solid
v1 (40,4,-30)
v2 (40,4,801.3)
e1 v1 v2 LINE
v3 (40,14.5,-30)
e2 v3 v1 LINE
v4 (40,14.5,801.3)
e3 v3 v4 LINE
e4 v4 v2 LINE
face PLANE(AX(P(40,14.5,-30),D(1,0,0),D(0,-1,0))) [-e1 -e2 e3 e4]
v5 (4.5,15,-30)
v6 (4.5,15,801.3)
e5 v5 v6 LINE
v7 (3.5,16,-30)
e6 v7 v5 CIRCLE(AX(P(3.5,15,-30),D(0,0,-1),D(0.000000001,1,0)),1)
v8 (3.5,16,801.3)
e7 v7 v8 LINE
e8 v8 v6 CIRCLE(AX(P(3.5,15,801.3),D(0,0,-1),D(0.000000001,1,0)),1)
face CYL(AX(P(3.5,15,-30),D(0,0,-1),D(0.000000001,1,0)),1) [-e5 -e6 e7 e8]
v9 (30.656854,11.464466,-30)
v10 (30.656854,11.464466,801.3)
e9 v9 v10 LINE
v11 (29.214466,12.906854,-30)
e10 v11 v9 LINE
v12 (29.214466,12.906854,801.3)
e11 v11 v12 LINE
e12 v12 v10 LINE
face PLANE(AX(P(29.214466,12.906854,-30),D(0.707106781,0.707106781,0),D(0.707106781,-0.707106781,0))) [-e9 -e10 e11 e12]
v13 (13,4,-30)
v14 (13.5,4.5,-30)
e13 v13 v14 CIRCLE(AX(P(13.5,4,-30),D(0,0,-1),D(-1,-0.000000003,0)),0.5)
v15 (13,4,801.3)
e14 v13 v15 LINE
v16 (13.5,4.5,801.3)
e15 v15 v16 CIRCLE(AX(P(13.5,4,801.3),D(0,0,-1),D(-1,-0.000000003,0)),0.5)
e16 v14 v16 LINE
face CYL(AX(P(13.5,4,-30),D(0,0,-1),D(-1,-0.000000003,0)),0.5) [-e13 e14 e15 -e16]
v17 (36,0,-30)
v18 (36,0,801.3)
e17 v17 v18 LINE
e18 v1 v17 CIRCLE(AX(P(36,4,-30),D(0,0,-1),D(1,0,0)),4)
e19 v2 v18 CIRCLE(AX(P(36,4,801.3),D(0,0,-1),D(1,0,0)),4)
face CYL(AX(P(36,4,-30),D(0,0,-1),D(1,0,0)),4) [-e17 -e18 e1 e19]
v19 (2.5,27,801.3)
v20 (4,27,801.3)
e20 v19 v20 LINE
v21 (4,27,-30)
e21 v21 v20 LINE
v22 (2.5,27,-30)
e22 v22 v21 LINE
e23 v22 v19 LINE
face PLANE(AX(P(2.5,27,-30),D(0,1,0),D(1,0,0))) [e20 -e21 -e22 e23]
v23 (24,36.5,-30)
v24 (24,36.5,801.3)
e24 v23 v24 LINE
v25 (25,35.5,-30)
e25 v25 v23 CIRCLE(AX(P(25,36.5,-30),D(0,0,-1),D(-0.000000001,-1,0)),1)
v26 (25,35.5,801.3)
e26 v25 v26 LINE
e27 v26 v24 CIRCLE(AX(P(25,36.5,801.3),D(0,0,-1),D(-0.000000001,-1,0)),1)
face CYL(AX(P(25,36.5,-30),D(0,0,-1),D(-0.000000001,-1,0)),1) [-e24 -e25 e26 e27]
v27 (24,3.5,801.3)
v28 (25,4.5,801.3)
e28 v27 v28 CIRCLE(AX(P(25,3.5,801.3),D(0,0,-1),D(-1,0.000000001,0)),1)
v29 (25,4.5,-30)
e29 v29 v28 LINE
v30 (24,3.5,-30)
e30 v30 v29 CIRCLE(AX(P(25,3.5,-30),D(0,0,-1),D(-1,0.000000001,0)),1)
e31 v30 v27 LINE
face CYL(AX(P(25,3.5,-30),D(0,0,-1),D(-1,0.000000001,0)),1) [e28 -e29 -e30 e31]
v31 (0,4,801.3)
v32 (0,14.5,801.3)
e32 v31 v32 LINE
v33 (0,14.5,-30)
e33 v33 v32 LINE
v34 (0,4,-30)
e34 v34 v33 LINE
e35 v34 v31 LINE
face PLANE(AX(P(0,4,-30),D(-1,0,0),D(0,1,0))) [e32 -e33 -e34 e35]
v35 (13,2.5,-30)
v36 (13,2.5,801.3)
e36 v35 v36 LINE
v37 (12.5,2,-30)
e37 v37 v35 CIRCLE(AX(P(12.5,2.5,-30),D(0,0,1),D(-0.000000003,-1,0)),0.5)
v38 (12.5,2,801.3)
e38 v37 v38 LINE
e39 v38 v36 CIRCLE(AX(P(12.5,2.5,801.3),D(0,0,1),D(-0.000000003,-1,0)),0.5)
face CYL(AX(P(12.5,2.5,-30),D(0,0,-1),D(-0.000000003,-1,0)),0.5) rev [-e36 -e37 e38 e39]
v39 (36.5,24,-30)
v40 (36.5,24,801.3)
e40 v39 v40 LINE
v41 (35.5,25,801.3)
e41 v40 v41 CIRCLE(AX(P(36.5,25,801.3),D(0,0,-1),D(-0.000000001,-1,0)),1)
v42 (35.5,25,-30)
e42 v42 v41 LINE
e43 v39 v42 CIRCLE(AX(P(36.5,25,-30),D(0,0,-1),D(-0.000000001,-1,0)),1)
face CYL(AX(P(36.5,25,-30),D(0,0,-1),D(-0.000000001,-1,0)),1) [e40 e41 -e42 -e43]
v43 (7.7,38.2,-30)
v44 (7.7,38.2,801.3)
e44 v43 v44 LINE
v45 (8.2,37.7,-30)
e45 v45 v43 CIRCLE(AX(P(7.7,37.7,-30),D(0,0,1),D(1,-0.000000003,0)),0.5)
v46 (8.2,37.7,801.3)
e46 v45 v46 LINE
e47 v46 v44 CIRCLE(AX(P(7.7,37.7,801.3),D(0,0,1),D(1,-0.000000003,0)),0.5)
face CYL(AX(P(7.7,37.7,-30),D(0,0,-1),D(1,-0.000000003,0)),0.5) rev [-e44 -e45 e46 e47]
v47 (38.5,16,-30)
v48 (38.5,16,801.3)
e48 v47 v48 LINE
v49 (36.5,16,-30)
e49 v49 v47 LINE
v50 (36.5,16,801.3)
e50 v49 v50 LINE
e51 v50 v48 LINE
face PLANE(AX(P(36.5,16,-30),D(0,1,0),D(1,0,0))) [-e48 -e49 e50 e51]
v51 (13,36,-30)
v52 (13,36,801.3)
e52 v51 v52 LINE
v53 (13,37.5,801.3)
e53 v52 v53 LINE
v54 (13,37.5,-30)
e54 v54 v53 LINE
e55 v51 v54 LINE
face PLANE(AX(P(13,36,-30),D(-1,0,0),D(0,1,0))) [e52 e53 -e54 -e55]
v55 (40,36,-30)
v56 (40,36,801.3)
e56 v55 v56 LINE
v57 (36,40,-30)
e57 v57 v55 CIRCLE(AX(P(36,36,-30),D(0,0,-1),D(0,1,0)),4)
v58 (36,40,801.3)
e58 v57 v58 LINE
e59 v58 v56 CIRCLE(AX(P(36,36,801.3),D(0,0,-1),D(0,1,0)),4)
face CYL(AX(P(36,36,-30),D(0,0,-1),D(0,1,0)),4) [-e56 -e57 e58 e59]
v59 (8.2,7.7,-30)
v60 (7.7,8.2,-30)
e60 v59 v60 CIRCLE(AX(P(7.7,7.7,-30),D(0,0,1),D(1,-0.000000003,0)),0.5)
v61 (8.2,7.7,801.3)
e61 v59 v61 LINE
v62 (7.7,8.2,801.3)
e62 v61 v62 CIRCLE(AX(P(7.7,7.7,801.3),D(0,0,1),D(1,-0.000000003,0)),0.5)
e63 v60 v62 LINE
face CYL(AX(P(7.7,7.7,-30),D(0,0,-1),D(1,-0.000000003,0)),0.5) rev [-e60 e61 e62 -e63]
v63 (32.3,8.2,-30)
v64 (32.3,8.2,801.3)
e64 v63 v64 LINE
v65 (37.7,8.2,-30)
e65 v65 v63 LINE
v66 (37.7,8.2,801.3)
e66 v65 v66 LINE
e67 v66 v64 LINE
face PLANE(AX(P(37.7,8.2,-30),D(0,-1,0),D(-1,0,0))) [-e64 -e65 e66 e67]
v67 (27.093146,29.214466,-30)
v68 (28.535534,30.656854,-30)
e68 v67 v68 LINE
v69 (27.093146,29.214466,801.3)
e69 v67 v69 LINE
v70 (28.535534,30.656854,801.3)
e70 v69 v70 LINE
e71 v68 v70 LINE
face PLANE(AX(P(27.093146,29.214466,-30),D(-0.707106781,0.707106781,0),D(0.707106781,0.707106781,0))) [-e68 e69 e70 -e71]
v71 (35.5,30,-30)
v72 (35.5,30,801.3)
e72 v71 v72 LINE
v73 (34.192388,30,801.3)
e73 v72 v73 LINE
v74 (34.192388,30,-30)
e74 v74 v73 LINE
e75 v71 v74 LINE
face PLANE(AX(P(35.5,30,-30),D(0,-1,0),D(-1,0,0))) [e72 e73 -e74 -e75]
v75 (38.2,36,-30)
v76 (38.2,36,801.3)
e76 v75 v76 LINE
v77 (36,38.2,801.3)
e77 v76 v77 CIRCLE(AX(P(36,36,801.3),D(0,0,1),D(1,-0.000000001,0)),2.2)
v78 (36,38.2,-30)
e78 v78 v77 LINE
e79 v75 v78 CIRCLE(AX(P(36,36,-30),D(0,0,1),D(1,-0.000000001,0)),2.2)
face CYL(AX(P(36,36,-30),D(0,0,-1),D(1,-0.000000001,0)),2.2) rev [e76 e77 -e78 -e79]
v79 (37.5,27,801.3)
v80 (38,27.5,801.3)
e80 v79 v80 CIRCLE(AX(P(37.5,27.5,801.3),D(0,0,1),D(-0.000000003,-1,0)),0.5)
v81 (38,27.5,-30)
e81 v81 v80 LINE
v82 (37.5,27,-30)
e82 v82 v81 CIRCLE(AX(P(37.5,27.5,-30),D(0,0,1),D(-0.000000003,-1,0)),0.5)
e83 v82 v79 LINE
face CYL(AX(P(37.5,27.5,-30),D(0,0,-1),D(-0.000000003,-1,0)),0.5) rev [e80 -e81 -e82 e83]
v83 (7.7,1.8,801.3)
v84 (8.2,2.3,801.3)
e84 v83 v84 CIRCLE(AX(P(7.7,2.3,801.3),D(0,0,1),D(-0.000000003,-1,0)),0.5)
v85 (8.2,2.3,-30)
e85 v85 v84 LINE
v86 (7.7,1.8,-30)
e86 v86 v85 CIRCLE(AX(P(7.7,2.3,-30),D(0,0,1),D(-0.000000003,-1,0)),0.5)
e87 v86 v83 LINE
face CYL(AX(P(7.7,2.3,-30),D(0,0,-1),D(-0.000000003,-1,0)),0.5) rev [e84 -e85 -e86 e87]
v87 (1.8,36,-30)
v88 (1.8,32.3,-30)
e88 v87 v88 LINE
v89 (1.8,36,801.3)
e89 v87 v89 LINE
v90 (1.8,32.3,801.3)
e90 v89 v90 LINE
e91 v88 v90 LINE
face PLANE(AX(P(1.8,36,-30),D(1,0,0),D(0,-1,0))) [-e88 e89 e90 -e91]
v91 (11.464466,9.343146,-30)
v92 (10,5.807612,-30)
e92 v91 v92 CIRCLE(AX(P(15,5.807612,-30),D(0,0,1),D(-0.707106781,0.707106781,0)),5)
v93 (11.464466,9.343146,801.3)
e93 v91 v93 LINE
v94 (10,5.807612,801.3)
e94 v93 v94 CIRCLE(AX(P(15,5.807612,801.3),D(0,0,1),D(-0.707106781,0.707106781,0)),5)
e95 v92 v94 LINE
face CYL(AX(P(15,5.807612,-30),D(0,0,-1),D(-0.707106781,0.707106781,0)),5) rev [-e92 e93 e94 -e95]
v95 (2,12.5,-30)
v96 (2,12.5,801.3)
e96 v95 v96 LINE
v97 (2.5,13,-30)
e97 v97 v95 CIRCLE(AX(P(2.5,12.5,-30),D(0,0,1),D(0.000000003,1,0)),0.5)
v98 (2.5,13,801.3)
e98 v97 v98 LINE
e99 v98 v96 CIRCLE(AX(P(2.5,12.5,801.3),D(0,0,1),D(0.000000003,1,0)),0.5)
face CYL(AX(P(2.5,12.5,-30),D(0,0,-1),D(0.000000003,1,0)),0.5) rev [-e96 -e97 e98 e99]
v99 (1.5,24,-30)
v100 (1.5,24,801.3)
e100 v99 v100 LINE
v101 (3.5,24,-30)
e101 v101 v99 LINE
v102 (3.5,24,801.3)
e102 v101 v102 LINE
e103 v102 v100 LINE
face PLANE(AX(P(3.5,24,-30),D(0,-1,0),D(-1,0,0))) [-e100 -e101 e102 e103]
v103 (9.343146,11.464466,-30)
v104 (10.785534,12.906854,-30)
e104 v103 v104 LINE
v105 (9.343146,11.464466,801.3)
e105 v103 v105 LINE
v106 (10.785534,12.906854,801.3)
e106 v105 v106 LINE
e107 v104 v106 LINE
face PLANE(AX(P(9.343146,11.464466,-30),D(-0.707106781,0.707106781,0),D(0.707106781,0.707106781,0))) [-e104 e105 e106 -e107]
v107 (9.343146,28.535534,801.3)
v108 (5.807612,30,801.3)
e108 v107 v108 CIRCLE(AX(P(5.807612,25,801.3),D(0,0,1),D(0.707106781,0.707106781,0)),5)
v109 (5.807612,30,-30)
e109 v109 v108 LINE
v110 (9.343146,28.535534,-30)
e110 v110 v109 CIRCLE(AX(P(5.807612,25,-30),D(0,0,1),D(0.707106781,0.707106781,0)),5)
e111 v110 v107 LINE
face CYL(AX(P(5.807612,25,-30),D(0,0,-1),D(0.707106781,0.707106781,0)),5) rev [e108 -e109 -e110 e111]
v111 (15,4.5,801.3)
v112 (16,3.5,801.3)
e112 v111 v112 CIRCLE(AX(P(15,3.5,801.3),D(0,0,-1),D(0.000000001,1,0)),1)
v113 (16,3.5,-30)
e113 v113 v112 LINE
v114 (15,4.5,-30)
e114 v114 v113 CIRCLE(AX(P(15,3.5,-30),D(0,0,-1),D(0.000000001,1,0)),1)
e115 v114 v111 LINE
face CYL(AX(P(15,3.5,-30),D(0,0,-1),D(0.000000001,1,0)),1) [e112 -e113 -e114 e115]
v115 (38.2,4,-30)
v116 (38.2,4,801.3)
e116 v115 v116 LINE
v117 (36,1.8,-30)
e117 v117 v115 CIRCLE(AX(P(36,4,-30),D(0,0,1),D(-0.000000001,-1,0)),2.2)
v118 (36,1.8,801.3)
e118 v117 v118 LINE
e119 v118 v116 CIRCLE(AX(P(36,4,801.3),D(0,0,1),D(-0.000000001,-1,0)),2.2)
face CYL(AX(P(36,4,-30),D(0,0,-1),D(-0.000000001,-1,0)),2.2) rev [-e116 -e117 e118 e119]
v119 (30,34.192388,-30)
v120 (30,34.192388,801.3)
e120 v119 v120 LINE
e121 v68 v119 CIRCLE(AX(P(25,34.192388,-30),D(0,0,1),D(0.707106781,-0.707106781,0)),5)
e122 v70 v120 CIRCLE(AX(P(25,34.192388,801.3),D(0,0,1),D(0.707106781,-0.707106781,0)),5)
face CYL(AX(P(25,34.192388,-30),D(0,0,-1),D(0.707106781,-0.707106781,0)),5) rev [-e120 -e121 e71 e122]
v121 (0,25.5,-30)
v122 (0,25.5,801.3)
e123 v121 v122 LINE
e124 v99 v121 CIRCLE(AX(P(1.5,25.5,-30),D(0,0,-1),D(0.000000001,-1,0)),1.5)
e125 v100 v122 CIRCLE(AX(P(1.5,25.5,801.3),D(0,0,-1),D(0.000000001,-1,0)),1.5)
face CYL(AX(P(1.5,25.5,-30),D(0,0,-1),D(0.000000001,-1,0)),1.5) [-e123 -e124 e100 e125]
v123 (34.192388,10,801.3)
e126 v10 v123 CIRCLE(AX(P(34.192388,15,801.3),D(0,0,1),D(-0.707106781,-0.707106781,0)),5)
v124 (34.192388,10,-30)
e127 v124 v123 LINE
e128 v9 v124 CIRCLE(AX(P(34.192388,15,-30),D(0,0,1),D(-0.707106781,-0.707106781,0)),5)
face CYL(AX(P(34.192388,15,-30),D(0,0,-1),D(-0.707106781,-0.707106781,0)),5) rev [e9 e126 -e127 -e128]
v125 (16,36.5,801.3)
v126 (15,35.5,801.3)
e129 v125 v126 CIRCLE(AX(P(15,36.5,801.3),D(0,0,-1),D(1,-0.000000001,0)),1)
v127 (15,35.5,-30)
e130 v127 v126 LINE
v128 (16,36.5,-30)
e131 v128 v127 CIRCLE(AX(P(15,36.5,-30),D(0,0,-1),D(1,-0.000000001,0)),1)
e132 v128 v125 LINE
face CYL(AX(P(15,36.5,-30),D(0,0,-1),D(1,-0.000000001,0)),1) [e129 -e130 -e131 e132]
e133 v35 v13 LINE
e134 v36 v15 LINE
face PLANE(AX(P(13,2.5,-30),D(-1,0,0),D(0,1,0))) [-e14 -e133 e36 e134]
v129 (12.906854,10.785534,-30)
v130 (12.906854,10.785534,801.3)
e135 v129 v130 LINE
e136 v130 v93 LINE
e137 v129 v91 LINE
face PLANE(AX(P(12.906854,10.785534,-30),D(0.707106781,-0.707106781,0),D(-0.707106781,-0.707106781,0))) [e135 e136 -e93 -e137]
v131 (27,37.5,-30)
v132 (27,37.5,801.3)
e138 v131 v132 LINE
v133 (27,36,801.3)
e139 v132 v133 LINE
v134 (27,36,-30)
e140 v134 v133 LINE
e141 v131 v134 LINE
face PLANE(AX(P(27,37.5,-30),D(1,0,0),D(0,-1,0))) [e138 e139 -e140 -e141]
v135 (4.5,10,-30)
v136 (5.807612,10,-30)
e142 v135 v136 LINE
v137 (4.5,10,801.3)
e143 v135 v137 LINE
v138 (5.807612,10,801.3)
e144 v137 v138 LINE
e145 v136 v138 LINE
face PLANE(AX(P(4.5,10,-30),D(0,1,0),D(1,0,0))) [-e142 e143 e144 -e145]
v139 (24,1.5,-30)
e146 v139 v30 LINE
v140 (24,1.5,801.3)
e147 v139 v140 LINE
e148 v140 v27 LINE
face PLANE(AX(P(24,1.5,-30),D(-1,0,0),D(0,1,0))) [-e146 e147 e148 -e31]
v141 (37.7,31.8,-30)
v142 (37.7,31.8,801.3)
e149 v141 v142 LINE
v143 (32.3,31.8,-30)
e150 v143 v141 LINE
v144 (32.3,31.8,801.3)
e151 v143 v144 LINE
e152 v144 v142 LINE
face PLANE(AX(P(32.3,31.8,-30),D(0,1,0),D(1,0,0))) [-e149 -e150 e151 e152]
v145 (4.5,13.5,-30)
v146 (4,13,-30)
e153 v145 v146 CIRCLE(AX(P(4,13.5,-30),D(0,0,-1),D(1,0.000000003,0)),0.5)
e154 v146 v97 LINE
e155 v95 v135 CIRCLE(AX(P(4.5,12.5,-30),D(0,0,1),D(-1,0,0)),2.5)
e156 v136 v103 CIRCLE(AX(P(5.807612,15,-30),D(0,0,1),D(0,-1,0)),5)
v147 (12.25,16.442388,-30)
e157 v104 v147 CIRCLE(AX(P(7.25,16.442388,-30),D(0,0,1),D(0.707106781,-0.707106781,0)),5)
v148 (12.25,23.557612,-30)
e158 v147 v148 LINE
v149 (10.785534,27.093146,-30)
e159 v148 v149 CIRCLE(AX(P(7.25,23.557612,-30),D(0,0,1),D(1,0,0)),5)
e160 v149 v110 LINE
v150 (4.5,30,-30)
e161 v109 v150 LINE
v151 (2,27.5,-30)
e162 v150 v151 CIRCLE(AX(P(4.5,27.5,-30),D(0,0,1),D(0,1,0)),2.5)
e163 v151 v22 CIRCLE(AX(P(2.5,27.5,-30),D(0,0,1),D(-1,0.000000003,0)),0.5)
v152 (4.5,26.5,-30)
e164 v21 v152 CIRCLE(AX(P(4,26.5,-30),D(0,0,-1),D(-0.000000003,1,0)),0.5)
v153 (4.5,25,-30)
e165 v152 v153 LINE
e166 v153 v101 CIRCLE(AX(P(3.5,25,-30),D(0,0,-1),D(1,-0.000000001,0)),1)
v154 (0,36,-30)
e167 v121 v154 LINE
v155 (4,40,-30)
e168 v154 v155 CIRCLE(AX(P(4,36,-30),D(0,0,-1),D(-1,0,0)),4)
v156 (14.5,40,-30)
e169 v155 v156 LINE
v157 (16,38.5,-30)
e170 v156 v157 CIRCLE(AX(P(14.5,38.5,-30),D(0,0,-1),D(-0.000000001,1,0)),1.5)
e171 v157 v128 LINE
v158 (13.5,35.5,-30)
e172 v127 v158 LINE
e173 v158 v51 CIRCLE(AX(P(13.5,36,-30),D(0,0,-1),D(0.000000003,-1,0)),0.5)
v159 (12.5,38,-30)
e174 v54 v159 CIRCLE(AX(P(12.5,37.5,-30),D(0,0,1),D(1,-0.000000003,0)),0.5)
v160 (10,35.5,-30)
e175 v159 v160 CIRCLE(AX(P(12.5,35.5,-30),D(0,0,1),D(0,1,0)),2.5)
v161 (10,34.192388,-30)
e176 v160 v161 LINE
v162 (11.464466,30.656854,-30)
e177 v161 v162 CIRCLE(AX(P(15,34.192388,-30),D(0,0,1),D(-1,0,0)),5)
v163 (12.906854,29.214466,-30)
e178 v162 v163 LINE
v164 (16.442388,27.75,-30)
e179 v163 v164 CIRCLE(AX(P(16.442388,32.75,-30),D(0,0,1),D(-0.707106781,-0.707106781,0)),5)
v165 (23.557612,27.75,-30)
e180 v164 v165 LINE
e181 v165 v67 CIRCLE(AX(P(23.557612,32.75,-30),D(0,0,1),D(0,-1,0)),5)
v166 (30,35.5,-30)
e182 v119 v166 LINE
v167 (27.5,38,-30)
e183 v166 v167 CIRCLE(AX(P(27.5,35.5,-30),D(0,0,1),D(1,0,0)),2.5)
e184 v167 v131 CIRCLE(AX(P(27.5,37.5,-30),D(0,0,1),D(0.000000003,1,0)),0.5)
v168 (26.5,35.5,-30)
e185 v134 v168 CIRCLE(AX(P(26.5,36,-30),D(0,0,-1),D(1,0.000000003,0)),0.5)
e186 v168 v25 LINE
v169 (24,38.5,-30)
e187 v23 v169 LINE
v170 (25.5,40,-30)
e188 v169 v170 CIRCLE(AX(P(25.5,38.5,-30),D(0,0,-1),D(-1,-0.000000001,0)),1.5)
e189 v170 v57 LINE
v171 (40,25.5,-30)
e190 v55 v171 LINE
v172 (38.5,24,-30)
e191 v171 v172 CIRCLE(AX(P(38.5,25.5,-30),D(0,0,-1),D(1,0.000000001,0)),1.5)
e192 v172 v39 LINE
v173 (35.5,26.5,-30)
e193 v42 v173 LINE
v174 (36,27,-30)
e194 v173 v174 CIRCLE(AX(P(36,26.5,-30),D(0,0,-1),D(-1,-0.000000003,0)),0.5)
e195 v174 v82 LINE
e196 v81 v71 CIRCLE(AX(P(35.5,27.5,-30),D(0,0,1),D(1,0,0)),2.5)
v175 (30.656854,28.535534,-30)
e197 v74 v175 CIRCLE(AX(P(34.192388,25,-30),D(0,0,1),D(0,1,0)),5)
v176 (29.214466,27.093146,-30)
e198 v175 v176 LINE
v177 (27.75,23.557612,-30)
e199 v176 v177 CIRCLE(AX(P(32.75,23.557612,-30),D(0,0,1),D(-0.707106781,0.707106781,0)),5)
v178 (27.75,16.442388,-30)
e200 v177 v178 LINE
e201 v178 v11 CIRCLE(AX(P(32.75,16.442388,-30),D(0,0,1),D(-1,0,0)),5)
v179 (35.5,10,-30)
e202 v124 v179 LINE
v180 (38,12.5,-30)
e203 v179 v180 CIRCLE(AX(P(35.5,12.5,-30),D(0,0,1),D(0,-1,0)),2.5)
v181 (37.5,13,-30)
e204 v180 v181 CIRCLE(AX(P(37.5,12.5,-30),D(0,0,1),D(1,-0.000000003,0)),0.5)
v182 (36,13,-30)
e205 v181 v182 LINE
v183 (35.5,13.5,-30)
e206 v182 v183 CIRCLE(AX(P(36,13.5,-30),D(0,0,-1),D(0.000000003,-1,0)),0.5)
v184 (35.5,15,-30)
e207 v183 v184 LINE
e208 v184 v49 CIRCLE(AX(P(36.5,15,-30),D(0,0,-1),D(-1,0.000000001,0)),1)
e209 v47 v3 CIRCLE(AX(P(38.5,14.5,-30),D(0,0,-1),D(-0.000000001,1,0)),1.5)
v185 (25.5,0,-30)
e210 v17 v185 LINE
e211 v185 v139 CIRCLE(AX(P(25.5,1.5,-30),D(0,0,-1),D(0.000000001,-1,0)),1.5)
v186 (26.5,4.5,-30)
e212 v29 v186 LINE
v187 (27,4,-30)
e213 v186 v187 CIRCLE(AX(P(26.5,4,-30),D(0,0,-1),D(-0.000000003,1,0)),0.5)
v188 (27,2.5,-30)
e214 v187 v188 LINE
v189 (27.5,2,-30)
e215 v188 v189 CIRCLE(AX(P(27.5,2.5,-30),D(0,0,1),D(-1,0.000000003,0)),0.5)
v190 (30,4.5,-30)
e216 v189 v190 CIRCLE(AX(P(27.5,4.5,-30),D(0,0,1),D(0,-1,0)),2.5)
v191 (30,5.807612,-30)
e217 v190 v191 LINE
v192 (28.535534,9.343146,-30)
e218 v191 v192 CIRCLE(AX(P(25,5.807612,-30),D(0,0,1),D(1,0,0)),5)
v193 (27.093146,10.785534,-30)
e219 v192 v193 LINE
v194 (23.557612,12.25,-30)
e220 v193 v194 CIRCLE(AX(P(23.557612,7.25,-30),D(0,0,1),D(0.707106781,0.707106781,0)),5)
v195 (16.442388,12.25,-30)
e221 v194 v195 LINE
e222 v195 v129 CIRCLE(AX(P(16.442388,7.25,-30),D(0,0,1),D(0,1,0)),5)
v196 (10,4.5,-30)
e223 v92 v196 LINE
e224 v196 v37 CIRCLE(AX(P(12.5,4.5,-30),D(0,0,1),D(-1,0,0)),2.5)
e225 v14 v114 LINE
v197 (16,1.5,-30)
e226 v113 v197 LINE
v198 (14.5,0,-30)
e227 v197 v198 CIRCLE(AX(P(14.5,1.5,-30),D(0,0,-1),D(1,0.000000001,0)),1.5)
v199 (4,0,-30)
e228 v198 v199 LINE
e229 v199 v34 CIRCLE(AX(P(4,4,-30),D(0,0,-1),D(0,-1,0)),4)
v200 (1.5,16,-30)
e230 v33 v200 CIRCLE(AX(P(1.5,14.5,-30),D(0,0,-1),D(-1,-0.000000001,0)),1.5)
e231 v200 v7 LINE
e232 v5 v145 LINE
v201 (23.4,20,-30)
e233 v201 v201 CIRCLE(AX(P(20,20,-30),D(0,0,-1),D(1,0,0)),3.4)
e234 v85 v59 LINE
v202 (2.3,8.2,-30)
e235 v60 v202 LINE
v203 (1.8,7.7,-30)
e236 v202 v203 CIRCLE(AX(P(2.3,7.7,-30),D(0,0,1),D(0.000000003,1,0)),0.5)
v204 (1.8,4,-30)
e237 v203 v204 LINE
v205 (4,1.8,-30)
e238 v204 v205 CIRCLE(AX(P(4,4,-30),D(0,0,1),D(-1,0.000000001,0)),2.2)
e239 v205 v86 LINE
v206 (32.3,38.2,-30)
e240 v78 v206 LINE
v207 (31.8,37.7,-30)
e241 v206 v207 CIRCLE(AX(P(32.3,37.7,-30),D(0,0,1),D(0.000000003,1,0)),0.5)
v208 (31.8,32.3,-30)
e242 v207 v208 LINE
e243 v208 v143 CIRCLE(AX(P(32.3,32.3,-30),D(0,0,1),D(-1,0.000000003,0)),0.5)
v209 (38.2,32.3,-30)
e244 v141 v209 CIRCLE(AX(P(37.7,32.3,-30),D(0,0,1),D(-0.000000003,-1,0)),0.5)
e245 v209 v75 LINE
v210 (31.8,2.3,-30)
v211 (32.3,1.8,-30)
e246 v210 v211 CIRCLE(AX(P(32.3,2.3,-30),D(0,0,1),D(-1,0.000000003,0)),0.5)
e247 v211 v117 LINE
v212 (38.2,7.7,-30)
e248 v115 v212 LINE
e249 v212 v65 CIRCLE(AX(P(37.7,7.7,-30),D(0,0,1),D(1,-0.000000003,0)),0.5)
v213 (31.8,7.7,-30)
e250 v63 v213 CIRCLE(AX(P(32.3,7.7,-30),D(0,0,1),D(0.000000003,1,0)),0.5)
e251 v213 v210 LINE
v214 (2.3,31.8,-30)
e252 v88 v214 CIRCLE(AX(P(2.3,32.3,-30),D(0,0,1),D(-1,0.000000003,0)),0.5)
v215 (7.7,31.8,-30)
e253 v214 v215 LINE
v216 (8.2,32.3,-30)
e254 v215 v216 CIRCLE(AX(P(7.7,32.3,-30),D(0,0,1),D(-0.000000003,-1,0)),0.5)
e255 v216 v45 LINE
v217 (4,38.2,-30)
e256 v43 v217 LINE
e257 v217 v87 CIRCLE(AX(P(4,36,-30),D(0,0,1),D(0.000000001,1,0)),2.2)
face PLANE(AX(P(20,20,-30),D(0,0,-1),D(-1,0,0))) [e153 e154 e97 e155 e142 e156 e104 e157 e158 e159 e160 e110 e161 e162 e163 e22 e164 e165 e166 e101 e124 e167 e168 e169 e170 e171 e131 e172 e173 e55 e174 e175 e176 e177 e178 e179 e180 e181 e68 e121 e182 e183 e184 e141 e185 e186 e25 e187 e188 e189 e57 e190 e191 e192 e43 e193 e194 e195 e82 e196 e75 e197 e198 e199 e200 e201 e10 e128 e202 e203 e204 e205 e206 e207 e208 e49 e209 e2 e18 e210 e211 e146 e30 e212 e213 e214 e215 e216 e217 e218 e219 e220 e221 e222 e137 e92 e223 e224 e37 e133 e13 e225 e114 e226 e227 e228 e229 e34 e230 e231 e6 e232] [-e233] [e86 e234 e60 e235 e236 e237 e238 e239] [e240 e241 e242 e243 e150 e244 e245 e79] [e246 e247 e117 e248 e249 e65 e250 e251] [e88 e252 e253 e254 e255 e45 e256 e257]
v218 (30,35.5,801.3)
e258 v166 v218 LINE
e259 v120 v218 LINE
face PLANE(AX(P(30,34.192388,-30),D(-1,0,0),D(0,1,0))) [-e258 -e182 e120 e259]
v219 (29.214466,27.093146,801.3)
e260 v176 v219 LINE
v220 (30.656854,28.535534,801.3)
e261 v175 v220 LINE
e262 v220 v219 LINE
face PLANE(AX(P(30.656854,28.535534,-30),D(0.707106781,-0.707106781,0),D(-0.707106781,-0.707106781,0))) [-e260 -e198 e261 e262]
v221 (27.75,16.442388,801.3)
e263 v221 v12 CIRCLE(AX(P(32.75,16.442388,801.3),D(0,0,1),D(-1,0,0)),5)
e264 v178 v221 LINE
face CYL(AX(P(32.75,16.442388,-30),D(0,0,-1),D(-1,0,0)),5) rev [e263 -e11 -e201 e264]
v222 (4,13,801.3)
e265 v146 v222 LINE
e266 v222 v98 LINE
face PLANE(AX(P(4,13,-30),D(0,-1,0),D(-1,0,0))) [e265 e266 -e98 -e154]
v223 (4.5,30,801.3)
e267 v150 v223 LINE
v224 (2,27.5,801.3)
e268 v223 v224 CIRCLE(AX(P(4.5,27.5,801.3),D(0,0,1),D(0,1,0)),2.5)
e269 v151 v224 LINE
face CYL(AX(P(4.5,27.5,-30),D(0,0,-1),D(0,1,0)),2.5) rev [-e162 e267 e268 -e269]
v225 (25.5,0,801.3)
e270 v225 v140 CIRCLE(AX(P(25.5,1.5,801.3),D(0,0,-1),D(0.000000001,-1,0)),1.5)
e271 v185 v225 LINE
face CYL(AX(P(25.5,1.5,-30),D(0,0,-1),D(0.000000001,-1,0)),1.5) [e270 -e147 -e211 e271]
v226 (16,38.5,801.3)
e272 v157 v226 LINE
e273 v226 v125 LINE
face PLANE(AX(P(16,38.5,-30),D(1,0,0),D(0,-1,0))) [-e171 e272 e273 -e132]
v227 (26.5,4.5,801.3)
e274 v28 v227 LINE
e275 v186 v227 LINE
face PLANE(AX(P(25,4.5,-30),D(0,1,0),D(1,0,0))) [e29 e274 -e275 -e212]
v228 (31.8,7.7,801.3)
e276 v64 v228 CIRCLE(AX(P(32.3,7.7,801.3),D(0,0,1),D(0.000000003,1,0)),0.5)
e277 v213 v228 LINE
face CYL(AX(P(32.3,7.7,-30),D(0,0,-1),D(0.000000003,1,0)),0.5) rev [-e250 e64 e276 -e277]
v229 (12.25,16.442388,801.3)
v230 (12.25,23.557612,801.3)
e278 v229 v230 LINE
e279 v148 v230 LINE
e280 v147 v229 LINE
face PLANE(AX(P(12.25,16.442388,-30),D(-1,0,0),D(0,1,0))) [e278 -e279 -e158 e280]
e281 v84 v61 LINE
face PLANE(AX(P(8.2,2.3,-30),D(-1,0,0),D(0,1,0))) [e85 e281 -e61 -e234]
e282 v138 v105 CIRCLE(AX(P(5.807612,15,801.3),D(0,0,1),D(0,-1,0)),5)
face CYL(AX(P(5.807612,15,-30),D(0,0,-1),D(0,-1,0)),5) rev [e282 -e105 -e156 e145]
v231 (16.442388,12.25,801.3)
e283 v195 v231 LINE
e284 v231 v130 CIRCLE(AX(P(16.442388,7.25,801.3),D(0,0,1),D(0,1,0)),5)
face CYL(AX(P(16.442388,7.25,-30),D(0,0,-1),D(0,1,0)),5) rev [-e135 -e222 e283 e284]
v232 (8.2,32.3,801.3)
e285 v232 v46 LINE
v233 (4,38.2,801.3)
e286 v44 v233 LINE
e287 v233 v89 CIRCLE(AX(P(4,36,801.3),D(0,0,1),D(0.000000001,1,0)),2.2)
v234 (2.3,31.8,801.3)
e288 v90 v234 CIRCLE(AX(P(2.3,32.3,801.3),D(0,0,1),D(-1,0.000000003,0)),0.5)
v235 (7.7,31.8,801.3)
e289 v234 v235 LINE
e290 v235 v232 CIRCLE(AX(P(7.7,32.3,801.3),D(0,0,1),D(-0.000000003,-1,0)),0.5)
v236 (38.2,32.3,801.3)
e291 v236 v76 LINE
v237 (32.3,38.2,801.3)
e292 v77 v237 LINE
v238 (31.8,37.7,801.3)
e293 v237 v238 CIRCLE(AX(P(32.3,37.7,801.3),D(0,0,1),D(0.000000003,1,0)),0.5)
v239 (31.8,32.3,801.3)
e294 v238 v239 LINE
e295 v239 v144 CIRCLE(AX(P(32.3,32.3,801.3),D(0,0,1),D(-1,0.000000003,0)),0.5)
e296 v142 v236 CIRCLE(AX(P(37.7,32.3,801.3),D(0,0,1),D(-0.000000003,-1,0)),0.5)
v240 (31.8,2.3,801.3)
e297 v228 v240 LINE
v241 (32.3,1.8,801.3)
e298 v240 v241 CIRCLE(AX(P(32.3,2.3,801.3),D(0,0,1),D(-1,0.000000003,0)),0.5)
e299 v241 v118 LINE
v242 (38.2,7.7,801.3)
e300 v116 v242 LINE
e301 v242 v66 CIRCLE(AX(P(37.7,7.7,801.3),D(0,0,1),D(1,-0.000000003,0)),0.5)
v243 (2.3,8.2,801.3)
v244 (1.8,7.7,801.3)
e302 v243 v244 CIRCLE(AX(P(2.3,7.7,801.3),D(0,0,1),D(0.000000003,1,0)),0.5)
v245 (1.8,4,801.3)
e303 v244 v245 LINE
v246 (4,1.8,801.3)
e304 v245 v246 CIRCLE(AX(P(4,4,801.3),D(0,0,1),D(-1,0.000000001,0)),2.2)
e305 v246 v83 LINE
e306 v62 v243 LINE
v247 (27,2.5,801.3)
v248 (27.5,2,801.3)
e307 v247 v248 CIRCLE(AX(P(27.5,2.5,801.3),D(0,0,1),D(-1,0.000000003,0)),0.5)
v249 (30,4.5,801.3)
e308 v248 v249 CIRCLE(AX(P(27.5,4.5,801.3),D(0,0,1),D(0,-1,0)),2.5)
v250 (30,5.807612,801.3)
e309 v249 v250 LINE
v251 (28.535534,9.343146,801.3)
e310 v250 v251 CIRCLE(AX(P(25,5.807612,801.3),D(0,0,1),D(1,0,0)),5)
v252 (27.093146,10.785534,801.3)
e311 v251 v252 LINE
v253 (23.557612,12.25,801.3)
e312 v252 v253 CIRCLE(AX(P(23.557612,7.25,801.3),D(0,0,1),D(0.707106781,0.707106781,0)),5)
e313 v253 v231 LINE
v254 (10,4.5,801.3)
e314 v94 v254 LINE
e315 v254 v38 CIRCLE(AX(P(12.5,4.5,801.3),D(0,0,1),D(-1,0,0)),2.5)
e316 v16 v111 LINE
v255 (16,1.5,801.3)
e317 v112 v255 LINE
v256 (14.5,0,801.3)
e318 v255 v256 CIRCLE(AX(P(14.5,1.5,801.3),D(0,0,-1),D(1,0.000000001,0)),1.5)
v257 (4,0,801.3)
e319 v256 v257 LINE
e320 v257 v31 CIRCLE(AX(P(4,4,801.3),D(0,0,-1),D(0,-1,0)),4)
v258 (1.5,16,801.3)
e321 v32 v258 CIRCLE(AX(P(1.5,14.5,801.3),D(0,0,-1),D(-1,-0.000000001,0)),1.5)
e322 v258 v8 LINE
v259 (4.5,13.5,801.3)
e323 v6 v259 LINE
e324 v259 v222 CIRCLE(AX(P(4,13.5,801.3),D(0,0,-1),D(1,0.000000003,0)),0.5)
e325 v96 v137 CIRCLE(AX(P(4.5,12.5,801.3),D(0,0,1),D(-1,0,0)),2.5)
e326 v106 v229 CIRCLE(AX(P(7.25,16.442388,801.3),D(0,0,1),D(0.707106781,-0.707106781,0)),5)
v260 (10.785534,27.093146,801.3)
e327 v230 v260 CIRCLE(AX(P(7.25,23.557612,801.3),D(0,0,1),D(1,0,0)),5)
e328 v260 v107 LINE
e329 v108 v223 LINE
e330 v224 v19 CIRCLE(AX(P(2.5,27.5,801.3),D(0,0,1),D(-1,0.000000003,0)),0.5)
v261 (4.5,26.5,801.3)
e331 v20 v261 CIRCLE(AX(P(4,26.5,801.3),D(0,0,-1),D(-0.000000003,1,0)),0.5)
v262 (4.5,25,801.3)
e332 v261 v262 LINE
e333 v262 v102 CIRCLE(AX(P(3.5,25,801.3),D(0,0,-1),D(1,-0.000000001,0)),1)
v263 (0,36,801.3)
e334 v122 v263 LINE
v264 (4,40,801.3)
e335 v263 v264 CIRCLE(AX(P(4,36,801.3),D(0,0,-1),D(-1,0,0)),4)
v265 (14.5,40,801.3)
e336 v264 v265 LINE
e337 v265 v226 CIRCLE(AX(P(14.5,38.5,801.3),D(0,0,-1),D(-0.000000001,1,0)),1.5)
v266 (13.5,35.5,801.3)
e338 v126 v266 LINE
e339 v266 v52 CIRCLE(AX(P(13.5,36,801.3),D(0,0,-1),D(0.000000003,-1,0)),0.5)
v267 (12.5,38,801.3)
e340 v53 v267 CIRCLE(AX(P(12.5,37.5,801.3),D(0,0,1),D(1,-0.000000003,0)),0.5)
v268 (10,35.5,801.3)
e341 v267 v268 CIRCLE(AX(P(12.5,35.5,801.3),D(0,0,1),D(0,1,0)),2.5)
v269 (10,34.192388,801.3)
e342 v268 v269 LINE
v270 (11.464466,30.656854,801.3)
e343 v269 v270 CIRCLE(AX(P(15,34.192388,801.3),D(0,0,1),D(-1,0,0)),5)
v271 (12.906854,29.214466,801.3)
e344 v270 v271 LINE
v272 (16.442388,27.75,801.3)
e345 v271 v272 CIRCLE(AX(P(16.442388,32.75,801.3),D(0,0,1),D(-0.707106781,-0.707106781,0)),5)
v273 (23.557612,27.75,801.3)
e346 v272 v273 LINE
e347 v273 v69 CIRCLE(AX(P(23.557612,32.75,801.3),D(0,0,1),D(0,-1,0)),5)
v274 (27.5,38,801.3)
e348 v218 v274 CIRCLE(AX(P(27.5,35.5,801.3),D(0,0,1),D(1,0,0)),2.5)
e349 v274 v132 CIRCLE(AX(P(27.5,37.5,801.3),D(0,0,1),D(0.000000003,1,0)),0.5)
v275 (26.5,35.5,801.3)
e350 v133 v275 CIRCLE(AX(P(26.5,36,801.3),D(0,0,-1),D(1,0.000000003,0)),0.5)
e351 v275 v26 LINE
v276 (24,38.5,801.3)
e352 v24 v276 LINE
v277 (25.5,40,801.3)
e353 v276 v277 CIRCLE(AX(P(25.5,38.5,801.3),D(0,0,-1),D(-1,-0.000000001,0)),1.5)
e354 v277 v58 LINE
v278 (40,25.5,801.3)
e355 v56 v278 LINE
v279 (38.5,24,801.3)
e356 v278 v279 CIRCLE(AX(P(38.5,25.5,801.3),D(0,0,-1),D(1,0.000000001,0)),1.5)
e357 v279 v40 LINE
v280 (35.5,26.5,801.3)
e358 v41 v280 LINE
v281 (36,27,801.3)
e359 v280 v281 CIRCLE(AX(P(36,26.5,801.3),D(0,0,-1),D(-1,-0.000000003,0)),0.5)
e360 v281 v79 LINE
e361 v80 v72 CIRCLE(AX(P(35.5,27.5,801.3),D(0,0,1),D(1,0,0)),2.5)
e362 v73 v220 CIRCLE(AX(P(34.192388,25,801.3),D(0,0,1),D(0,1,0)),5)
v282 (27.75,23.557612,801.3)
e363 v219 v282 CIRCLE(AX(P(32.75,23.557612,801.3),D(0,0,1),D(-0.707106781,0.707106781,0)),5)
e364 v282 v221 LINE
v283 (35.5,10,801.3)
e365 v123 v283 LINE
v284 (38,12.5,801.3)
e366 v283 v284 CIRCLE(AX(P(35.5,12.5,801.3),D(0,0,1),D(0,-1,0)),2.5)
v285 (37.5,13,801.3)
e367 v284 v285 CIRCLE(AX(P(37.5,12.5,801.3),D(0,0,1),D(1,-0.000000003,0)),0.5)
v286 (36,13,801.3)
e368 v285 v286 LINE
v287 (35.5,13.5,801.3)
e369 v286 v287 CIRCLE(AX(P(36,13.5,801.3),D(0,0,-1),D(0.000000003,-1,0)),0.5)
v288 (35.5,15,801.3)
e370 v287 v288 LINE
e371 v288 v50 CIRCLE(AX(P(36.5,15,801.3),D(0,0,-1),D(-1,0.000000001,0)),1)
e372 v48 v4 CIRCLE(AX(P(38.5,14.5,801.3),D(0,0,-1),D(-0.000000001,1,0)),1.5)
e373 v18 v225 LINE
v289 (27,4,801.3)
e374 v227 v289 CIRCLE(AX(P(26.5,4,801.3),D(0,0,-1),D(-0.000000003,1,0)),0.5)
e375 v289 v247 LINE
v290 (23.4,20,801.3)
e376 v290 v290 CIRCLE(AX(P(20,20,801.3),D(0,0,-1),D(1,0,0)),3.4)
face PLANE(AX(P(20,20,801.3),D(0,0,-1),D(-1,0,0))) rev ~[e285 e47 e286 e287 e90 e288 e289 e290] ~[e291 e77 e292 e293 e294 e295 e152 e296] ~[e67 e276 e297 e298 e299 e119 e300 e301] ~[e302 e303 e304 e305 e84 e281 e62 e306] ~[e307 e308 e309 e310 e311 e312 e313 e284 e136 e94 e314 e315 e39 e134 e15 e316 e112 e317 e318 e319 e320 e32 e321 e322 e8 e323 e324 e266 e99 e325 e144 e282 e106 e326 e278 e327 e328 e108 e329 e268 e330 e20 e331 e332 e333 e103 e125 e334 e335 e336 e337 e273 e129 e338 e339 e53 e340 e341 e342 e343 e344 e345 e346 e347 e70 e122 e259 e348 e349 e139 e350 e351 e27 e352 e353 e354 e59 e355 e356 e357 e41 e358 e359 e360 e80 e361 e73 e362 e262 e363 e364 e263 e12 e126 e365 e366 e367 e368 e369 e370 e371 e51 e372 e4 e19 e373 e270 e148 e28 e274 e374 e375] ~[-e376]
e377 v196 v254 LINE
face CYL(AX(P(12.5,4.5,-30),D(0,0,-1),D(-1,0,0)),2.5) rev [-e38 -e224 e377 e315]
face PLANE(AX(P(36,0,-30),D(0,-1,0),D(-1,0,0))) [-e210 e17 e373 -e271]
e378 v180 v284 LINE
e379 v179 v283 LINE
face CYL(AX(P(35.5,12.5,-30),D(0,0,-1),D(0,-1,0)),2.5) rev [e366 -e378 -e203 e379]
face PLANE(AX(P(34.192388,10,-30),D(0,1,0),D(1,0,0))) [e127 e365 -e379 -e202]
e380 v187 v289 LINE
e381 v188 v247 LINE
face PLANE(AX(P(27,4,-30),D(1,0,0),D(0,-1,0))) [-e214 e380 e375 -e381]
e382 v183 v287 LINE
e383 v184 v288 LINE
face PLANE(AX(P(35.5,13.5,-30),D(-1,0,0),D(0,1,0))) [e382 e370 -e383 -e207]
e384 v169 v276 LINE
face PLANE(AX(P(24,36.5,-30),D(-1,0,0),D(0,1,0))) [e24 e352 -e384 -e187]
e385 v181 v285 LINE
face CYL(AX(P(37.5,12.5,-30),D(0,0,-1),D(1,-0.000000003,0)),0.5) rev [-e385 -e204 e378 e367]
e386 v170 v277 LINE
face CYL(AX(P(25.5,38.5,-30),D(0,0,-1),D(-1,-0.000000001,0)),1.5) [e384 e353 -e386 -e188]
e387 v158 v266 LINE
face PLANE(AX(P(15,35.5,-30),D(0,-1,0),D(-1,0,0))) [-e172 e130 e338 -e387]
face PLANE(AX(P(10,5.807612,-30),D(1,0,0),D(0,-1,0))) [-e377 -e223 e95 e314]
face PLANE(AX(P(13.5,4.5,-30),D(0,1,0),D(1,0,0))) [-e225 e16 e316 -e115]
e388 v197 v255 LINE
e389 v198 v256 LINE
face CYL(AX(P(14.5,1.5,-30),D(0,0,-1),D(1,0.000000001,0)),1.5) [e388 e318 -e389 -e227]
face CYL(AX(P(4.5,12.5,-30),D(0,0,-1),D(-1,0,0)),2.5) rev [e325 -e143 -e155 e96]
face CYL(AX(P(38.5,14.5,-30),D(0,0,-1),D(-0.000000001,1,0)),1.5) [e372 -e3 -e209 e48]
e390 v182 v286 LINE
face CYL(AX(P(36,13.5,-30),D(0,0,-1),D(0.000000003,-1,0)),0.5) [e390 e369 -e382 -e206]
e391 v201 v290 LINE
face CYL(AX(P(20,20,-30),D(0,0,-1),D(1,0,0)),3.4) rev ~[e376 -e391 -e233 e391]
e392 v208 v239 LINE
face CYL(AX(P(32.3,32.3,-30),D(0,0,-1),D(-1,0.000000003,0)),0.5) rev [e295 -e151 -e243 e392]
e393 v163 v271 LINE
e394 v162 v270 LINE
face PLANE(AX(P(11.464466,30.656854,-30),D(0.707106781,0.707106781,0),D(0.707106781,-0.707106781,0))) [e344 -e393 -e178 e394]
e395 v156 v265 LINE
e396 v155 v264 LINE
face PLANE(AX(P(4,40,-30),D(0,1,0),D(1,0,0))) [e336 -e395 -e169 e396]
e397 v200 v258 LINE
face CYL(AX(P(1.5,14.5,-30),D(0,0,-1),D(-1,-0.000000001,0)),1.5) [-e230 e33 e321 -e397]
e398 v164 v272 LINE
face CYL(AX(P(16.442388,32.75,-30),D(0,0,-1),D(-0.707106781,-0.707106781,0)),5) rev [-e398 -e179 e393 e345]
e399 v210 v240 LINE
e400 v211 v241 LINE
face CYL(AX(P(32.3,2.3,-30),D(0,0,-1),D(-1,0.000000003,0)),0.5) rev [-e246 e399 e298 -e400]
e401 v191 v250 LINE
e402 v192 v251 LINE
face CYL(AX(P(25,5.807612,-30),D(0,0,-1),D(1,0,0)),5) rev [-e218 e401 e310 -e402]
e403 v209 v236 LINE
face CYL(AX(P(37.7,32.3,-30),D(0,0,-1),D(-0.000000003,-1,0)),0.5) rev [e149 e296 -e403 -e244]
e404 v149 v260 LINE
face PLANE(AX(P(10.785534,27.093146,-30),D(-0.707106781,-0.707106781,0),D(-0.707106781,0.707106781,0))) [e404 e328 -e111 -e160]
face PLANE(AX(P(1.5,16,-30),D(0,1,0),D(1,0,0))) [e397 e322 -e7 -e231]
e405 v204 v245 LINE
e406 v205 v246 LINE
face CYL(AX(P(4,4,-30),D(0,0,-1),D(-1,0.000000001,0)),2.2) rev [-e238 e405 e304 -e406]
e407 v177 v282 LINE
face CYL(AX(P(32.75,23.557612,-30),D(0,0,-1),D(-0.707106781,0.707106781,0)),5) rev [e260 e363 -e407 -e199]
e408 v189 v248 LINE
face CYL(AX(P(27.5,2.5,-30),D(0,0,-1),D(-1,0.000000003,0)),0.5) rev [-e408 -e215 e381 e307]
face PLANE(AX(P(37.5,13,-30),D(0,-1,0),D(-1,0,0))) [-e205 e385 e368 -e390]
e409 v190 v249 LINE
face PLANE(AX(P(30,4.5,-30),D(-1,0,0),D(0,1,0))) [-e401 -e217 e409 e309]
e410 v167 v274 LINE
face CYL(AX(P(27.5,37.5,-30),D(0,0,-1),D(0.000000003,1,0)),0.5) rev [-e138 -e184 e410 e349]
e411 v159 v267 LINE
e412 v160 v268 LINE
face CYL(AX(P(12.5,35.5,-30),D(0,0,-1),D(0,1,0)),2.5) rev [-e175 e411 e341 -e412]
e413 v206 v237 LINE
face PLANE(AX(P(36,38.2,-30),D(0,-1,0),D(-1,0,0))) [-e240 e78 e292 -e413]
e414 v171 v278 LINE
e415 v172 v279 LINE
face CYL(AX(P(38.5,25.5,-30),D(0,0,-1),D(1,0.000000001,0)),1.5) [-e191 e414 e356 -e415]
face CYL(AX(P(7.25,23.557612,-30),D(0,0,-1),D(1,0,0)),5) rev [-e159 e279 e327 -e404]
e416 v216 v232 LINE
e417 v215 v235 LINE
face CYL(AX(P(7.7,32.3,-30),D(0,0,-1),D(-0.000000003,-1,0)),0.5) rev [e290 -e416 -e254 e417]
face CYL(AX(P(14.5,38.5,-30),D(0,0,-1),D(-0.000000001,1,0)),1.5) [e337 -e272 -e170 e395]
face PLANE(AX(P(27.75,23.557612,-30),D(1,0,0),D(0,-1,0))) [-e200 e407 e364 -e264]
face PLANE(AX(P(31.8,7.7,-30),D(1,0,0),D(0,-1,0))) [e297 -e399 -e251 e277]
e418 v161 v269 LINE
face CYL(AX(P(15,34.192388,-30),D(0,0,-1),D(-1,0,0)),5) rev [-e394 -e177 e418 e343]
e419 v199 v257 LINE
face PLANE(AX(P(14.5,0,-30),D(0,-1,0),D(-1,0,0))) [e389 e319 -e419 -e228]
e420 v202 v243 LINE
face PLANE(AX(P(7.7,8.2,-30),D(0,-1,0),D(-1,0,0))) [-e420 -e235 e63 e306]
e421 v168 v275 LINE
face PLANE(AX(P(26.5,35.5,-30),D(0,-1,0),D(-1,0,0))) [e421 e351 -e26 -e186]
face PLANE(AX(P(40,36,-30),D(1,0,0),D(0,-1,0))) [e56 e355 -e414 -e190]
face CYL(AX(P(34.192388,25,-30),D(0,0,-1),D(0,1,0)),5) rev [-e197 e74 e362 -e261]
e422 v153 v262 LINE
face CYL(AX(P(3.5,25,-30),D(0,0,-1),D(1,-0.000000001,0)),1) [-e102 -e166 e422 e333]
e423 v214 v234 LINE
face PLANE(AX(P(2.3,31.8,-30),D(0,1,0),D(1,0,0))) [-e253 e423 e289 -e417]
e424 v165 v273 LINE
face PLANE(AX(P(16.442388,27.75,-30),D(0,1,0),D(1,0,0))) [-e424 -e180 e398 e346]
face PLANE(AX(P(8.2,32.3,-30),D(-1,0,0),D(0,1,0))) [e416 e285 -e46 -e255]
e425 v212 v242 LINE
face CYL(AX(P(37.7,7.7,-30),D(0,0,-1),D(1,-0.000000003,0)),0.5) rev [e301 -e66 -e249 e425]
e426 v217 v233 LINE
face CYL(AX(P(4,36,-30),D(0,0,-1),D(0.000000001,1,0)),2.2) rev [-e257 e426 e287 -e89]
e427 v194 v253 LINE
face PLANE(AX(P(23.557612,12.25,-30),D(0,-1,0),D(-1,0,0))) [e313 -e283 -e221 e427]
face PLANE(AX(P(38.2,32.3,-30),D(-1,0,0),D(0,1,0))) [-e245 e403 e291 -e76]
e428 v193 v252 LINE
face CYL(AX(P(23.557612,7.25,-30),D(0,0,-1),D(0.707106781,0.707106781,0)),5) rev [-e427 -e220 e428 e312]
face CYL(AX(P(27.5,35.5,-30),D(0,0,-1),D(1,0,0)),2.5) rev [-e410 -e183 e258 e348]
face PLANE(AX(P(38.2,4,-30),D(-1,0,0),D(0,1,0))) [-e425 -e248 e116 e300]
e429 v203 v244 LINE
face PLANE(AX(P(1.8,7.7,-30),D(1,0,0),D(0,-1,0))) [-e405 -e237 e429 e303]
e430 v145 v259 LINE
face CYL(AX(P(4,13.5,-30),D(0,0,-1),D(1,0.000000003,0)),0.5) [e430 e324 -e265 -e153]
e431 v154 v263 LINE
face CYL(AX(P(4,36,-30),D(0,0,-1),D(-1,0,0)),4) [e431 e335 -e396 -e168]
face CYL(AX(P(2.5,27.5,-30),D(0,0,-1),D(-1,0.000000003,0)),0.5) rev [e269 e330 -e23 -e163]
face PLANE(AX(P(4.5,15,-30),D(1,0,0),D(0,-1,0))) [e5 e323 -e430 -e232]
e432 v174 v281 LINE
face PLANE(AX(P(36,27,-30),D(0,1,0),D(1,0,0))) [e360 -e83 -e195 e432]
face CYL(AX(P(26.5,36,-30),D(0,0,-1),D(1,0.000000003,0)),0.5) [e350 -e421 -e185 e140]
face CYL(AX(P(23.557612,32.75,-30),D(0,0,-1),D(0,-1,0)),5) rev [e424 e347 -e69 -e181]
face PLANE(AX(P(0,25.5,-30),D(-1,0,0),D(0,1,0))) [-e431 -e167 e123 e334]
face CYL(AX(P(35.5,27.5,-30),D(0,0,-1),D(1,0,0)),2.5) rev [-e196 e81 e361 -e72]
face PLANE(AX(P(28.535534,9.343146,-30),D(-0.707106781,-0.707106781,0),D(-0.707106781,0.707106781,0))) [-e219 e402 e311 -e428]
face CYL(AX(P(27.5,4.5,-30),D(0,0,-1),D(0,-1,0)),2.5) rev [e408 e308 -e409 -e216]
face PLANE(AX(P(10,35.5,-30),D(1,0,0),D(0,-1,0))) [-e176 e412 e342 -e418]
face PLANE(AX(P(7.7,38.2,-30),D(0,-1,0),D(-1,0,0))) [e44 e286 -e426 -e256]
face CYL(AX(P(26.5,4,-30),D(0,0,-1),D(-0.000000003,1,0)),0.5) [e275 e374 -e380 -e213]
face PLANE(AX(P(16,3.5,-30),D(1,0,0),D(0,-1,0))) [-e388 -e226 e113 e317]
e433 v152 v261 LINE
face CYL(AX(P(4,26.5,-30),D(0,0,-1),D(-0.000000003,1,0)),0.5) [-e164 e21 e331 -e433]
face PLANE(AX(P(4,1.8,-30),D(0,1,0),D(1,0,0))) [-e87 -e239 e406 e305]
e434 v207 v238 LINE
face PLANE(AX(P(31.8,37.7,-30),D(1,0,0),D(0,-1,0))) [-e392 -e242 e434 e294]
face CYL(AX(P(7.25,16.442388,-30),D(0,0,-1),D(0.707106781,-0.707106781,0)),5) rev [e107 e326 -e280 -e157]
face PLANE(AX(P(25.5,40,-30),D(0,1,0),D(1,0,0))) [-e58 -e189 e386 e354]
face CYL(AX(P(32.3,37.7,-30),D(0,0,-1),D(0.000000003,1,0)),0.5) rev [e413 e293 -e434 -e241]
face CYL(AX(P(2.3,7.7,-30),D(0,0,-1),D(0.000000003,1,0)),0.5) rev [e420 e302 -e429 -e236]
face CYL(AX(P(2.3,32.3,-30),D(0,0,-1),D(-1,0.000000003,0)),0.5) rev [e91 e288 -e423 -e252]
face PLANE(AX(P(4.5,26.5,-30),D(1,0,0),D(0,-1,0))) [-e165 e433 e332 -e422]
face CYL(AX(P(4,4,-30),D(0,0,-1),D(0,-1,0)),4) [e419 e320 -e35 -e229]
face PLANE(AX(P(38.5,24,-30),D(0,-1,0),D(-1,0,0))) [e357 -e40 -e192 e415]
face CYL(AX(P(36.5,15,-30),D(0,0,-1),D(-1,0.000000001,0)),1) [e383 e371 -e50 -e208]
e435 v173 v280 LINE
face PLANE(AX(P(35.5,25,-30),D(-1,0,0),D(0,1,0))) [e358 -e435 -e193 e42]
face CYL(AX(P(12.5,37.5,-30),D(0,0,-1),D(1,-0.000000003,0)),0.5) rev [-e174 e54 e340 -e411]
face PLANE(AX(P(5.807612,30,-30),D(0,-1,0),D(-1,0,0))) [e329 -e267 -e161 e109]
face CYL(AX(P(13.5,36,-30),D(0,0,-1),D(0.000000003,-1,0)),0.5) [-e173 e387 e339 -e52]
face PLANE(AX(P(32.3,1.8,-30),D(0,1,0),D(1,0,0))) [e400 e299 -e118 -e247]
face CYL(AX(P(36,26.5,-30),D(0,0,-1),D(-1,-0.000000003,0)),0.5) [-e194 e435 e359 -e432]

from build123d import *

# Parameters (mm, degrees)
ESQUISSE1_R        = 3.4
BOSS_EXTRU_1_DEPTH = 831.3


with BuildPart() as part:
    # Esquisse1 → Boss.-Extru.1 (new body)
    with BuildSketch(Plane(origin=(0, 0, -30), x_dir=(-1, 0, 0), z_dir=(0, 0, -1))):
        with BuildLine():
            Line((-4.5, 15), (-4.5, 13.5))
            ThreePointArc((-4.5, 13.5), (-4.353553391, 13.146446609), (-4, 13))
            Line((-4, 13), (-2.5, 13))
            ThreePointArc((-2.5, 13), (-2.146446609, 12.853553391), (-2, 12.5))
            ThreePointArc((-2, 12.5), (-2.732233047, 10.732233047), (-4.5, 10))
            Line((-4.5, 10), (-5.807611845, 10))
            ThreePointArc((-5.807611845, 10), (-7.721029006, 10.380602337), (-9.343145751, 11.464466094))
            Line((-9.343145751, 11.464466094), (-10.785533906, 12.906854249))
            ThreePointArc((-10.785533906, 12.906854249), (-11.869397663, 14.528970994), (-12.25, 16.442388155))
            Line((-12.25, 16.442388155), (-12.25, 23.557611845))
            ThreePointArc((-12.25, 23.557611845), (-11.869397663, 25.471029006), (-10.785533906, 27.093145751))
            Line((-10.785533906, 27.093145751), (-9.343145751, 28.535533906))
            ThreePointArc((-9.343145751, 28.535533906), (-7.721029006, 29.619397663), (-5.807611845, 30))
            Line((-5.807611845, 30), (-4.5, 30))
            ThreePointArc((-4.5, 30), (-2.732233047, 29.267766953), (-2, 27.5))
            ThreePointArc((-2, 27.5), (-2.146446609, 27.146446609), (-2.5, 27))
            Line((-2.5, 27), (-4, 27))
            ThreePointArc((-4, 27), (-4.353553391, 26.853553391), (-4.5, 26.5))
            Line((-4.5, 26.5), (-4.5, 25))
            ThreePointArc((-4.5, 25), (-4.207106781, 24.292893219), (-3.5, 24))
            Line((-3.5, 24), (-1.5, 24))
            ThreePointArc((-1.5, 24), (-0.439339828, 24.439339828), (0, 25.5))
            Line((0, 25.5), (0, 36))
            ThreePointArc((0, 36), (-1.171572875, 38.828427125), (-4, 40))
            Line((-4, 40), (-14.5, 40))
            ThreePointArc((-14.5, 40), (-15.560660172, 39.560660172), (-16, 38.5))
            Line((-16, 38.5), (-16, 36.5))
            ThreePointArc((-16, 36.5), (-15.707106781, 35.792893219), (-15, 35.5))
            Line((-15, 35.5), (-13.5, 35.5))
            ThreePointArc((-13.5, 35.5), (-13.146446609, 35.646446609), (-13, 36))
            Line((-13, 36), (-13, 37.5))
            ThreePointArc((-13, 37.5), (-12.853553391, 37.853553391), (-12.5, 38))
            ThreePointArc((-12.5, 38), (-10.732233047, 37.267766953), (-10, 35.5))
            Line((-10, 35.5), (-10, 34.192388155))
            ThreePointArc((-10, 34.192388155), (-10.380602337, 32.278970994), (-11.464466094, 30.656854249))
            Line((-11.464466094, 30.656854249), (-12.906854249, 29.214466094))
            ThreePointArc((-12.906854249, 29.214466094), (-14.528970994, 28.130602337), (-16.442388155, 27.75))
            Line((-16.442388155, 27.75), (-23.557611845, 27.75))
            ThreePointArc((-23.557611845, 27.75), (-25.471029006, 28.130602337), (-27.093145751, 29.214466094))
            Line((-27.093145751, 29.214466094), (-28.535533906, 30.656854249))
            ThreePointArc((-28.535533906, 30.656854249), (-29.619397663, 32.278970994), (-30, 34.192388155))
            Line((-30, 34.192388155), (-30, 35.5))
            ThreePointArc((-30, 35.5), (-29.267766953, 37.267766953), (-27.5, 38))
            ThreePointArc((-27.5, 38), (-27.146446609, 37.853553391), (-27, 37.5))
            Line((-27, 37.5), (-27, 36))
            ThreePointArc((-27, 36), (-26.853553391, 35.646446609), (-26.5, 35.5))
            Line((-26.5, 35.5), (-25, 35.5))
            ThreePointArc((-25, 35.5), (-24.292893219, 35.792893219), (-24, 36.5))
            Line((-24, 36.5), (-24, 38.5))
            ThreePointArc((-24, 38.5), (-24.439339828, 39.560660172), (-25.5, 40))
            Line((-25.5, 40), (-36, 40))
            ThreePointArc((-36, 40), (-38.828427125, 38.828427125), (-40, 36))
            Line((-40, 36), (-40, 25.5))
            ThreePointArc((-40, 25.5), (-39.560660172, 24.439339828), (-38.5, 24))
            Line((-38.5, 24), (-36.5, 24))
            ThreePointArc((-36.5, 24), (-35.792893219, 24.292893219), (-35.5, 25))
            Line((-35.5, 25), (-35.5, 26.5))
            ThreePointArc((-35.5, 26.5), (-35.646446609, 26.853553391), (-36, 27))
            Line((-36, 27), (-37.5, 27))
            ThreePointArc((-37.5, 27), (-37.853553391, 27.146446609), (-38, 27.5))
            ThreePointArc((-38, 27.5), (-37.267766953, 29.267766953), (-35.5, 30))
            Line((-35.5, 30), (-34.192388155, 30))
            ThreePointArc((-34.192388155, 30), (-32.278970994, 29.619397663), (-30.656854249, 28.535533906))
            Line((-30.656854249, 28.535533906), (-29.214466094, 27.093145751))
            ThreePointArc((-29.214466094, 27.093145751), (-28.130602337, 25.471029006), (-27.75, 23.557611845))
            Line((-27.75, 23.557611845), (-27.75, 16.442388155))
            ThreePointArc((-27.75, 16.442388155), (-28.130602337, 14.528970994), (-29.214466094, 12.906854249))
            Line((-29.214466094, 12.906854249), (-30.656854249, 11.464466094))
            ThreePointArc((-30.656854249, 11.464466094), (-32.278970994, 10.380602337), (-34.192388155, 10))
            Line((-34.192388155, 10), (-35.5, 10))
            ThreePointArc((-35.5, 10), (-37.267766953, 10.732233047), (-38, 12.5))
            ThreePointArc((-38, 12.5), (-37.853553391, 12.853553391), (-37.5, 13))
            Line((-37.5, 13), (-36, 13))
            ThreePointArc((-36, 13), (-35.646446609, 13.146446609), (-35.5, 13.5))
            Line((-35.5, 13.5), (-35.5, 15))
            ThreePointArc((-35.5, 15), (-35.792893219, 15.707106781), (-36.5, 16))
            Line((-36.5, 16), (-38.5, 16))
            ThreePointArc((-38.5, 16), (-39.560660172, 15.560660172), (-40, 14.5))
            Line((-40, 14.5), (-40, 4))
            ThreePointArc((-40, 4), (-38.828427125, 1.171572875), (-36, 0))
            Line((-36, 0), (-25.5, 0))
            ThreePointArc((-25.5, 0), (-24.439339828, 0.439339828), (-24, 1.5))
            Line((-24, 1.5), (-24, 3.5))
            ThreePointArc((-24, 3.5), (-24.292893219, 4.207106781), (-25, 4.5))
            Line((-25, 4.5), (-26.5, 4.5))
            ThreePointArc((-26.5, 4.5), (-26.853553391, 4.353553391), (-27, 4))
            Line((-27, 4), (-27, 2.5))
            ThreePointArc((-27, 2.5), (-27.146446609, 2.146446609), (-27.5, 2))
            ThreePointArc((-27.5, 2), (-29.267766953, 2.732233047), (-30, 4.5))
            Line((-30, 4.5), (-30, 5.807611845))
            ThreePointArc((-30, 5.807611845), (-29.619397663, 7.721029006), (-28.535533906, 9.343145751))
            Line((-28.535533906, 9.343145751), (-27.093145751, 10.785533906))
            ThreePointArc((-27.093145751, 10.785533906), (-25.471029006, 11.869397663), (-23.557611845, 12.25))
            Line((-23.557611845, 12.25), (-16.442388155, 12.25))
            ThreePointArc((-16.442388155, 12.25), (-14.528970994, 11.869397663), (-12.906854249, 10.785533906))
            Line((-12.906854249, 10.785533906), (-11.464466094, 9.343145751))
            ThreePointArc((-11.464466094, 9.343145751), (-10.380602337, 7.721029006), (-10, 5.807611845))
            Line((-10, 5.807611845), (-10, 4.5))
            ThreePointArc((-10, 4.5), (-10.732233047, 2.732233047), (-12.5, 2))
            ThreePointArc((-12.5, 2), (-12.853553391, 2.146446609), (-13, 2.5))
            Line((-13, 2.5), (-13, 4))
            ThreePointArc((-13, 4), (-13.146446609, 4.353553391), (-13.5, 4.5))
            Line((-13.5, 4.5), (-15, 4.5))
            ThreePointArc((-15, 4.5), (-15.707106781, 4.207106781), (-16, 3.5))
            Line((-16, 3.5), (-16, 1.5))
            ThreePointArc((-16, 1.5), (-15.560660172, 0.439339828), (-14.5, 0))
            Line((-14.5, 0), (-4, 0))
            ThreePointArc((-4, 0), (-1.171572875, 1.171572875), (0, 4))
            Line((0, 4), (0, 14.5))
            ThreePointArc((0, 14.5), (-0.439339828, 15.560660172), (-1.5, 16))
            Line((-1.5, 16), (-3.5, 16))
            ThreePointArc((-3.5, 16), (-4.207106781, 15.707106781), (-4.5, 15))
        make_face()
        with Locations(Location((-20, 20, 0), (0, 0, 180))):
            Circle(ESQUISSE1_R, mode=Mode.SUBTRACT)
        with BuildLine():
            Line((-4, 1.8), (-7.7, 1.8))
            ThreePointArc((-7.7, 1.8), (-8.053553391, 1.946446609), (-8.2, 2.3))
            Line((-8.2, 2.3), (-8.2, 7.7))
            ThreePointArc((-8.2, 7.7), (-8.053553391, 8.053553391), (-7.7, 8.2))
            Line((-7.7, 8.2), (-2.3, 8.2))
            ThreePointArc((-2.3, 8.2), (-1.946446609, 8.053553391), (-1.8, 7.7))
            Line((-1.8, 7.7), (-1.8, 4))
            ThreePointArc((-1.8, 4), (-2.444365081, 2.444365081), (-4, 1.8))
        make_face(mode=Mode.SUBTRACT)
        with BuildLine():
            Line((-38.2, 4), (-38.2, 7.7))
            ThreePointArc((-38.2, 7.7), (-38.053553391, 8.053553391), (-37.7, 8.2))
            Line((-37.7, 8.2), (-32.3, 8.2))
            ThreePointArc((-32.3, 8.2), (-31.946446609, 8.053553391), (-31.8, 7.7))
            Line((-31.8, 7.7), (-31.8, 2.3))
            ThreePointArc((-31.8, 2.3), (-31.946446609, 1.946446609), (-32.3, 1.8))
            Line((-32.3, 1.8), (-36, 1.8))
            ThreePointArc((-36, 1.8), (-37.555634919, 2.444365081), (-38.2, 4))
        make_face(mode=Mode.SUBTRACT)
        with BuildLine():
            Line((-36, 38.2), (-32.3, 38.2))
            ThreePointArc((-32.3, 38.2), (-31.946446609, 38.053553391), (-31.8, 37.7))
            Line((-31.8, 37.7), (-31.8, 32.3))
            ThreePointArc((-31.8, 32.3), (-31.946446609, 31.946446609), (-32.3, 31.8))
            Line((-32.3, 31.8), (-37.7, 31.8))
            ThreePointArc((-37.7, 31.8), (-38.053553391, 31.946446609), (-38.2, 32.3))
            Line((-38.2, 32.3), (-38.2, 36))
            ThreePointArc((-38.2, 36), (-37.555634919, 37.555634919), (-36, 38.2))
        make_face(mode=Mode.SUBTRACT)
        with BuildLine():
            Line((-1.8, 36), (-1.8, 32.3))
            ThreePointArc((-1.8, 32.3), (-1.946446609, 31.946446609), (-2.3, 31.8))
            Line((-2.3, 31.8), (-7.7, 31.8))
            ThreePointArc((-7.7, 31.8), (-8.053553391, 31.946446609), (-8.2, 32.3))
            Line((-8.2, 32.3), (-8.2, 37.7))
            ThreePointArc((-8.2, 37.7), (-8.053553391, 38.053553391), (-7.7, 38.2))
            Line((-7.7, 38.2), (-4, 38.2))
            ThreePointArc((-4, 38.2), (-2.444365081, 37.555634919), (-1.8, 36))
        make_face(mode=Mode.SUBTRACT)
    extrude(amount=-BOSS_EXTRU_1_DEPTH)


solid = part.part
